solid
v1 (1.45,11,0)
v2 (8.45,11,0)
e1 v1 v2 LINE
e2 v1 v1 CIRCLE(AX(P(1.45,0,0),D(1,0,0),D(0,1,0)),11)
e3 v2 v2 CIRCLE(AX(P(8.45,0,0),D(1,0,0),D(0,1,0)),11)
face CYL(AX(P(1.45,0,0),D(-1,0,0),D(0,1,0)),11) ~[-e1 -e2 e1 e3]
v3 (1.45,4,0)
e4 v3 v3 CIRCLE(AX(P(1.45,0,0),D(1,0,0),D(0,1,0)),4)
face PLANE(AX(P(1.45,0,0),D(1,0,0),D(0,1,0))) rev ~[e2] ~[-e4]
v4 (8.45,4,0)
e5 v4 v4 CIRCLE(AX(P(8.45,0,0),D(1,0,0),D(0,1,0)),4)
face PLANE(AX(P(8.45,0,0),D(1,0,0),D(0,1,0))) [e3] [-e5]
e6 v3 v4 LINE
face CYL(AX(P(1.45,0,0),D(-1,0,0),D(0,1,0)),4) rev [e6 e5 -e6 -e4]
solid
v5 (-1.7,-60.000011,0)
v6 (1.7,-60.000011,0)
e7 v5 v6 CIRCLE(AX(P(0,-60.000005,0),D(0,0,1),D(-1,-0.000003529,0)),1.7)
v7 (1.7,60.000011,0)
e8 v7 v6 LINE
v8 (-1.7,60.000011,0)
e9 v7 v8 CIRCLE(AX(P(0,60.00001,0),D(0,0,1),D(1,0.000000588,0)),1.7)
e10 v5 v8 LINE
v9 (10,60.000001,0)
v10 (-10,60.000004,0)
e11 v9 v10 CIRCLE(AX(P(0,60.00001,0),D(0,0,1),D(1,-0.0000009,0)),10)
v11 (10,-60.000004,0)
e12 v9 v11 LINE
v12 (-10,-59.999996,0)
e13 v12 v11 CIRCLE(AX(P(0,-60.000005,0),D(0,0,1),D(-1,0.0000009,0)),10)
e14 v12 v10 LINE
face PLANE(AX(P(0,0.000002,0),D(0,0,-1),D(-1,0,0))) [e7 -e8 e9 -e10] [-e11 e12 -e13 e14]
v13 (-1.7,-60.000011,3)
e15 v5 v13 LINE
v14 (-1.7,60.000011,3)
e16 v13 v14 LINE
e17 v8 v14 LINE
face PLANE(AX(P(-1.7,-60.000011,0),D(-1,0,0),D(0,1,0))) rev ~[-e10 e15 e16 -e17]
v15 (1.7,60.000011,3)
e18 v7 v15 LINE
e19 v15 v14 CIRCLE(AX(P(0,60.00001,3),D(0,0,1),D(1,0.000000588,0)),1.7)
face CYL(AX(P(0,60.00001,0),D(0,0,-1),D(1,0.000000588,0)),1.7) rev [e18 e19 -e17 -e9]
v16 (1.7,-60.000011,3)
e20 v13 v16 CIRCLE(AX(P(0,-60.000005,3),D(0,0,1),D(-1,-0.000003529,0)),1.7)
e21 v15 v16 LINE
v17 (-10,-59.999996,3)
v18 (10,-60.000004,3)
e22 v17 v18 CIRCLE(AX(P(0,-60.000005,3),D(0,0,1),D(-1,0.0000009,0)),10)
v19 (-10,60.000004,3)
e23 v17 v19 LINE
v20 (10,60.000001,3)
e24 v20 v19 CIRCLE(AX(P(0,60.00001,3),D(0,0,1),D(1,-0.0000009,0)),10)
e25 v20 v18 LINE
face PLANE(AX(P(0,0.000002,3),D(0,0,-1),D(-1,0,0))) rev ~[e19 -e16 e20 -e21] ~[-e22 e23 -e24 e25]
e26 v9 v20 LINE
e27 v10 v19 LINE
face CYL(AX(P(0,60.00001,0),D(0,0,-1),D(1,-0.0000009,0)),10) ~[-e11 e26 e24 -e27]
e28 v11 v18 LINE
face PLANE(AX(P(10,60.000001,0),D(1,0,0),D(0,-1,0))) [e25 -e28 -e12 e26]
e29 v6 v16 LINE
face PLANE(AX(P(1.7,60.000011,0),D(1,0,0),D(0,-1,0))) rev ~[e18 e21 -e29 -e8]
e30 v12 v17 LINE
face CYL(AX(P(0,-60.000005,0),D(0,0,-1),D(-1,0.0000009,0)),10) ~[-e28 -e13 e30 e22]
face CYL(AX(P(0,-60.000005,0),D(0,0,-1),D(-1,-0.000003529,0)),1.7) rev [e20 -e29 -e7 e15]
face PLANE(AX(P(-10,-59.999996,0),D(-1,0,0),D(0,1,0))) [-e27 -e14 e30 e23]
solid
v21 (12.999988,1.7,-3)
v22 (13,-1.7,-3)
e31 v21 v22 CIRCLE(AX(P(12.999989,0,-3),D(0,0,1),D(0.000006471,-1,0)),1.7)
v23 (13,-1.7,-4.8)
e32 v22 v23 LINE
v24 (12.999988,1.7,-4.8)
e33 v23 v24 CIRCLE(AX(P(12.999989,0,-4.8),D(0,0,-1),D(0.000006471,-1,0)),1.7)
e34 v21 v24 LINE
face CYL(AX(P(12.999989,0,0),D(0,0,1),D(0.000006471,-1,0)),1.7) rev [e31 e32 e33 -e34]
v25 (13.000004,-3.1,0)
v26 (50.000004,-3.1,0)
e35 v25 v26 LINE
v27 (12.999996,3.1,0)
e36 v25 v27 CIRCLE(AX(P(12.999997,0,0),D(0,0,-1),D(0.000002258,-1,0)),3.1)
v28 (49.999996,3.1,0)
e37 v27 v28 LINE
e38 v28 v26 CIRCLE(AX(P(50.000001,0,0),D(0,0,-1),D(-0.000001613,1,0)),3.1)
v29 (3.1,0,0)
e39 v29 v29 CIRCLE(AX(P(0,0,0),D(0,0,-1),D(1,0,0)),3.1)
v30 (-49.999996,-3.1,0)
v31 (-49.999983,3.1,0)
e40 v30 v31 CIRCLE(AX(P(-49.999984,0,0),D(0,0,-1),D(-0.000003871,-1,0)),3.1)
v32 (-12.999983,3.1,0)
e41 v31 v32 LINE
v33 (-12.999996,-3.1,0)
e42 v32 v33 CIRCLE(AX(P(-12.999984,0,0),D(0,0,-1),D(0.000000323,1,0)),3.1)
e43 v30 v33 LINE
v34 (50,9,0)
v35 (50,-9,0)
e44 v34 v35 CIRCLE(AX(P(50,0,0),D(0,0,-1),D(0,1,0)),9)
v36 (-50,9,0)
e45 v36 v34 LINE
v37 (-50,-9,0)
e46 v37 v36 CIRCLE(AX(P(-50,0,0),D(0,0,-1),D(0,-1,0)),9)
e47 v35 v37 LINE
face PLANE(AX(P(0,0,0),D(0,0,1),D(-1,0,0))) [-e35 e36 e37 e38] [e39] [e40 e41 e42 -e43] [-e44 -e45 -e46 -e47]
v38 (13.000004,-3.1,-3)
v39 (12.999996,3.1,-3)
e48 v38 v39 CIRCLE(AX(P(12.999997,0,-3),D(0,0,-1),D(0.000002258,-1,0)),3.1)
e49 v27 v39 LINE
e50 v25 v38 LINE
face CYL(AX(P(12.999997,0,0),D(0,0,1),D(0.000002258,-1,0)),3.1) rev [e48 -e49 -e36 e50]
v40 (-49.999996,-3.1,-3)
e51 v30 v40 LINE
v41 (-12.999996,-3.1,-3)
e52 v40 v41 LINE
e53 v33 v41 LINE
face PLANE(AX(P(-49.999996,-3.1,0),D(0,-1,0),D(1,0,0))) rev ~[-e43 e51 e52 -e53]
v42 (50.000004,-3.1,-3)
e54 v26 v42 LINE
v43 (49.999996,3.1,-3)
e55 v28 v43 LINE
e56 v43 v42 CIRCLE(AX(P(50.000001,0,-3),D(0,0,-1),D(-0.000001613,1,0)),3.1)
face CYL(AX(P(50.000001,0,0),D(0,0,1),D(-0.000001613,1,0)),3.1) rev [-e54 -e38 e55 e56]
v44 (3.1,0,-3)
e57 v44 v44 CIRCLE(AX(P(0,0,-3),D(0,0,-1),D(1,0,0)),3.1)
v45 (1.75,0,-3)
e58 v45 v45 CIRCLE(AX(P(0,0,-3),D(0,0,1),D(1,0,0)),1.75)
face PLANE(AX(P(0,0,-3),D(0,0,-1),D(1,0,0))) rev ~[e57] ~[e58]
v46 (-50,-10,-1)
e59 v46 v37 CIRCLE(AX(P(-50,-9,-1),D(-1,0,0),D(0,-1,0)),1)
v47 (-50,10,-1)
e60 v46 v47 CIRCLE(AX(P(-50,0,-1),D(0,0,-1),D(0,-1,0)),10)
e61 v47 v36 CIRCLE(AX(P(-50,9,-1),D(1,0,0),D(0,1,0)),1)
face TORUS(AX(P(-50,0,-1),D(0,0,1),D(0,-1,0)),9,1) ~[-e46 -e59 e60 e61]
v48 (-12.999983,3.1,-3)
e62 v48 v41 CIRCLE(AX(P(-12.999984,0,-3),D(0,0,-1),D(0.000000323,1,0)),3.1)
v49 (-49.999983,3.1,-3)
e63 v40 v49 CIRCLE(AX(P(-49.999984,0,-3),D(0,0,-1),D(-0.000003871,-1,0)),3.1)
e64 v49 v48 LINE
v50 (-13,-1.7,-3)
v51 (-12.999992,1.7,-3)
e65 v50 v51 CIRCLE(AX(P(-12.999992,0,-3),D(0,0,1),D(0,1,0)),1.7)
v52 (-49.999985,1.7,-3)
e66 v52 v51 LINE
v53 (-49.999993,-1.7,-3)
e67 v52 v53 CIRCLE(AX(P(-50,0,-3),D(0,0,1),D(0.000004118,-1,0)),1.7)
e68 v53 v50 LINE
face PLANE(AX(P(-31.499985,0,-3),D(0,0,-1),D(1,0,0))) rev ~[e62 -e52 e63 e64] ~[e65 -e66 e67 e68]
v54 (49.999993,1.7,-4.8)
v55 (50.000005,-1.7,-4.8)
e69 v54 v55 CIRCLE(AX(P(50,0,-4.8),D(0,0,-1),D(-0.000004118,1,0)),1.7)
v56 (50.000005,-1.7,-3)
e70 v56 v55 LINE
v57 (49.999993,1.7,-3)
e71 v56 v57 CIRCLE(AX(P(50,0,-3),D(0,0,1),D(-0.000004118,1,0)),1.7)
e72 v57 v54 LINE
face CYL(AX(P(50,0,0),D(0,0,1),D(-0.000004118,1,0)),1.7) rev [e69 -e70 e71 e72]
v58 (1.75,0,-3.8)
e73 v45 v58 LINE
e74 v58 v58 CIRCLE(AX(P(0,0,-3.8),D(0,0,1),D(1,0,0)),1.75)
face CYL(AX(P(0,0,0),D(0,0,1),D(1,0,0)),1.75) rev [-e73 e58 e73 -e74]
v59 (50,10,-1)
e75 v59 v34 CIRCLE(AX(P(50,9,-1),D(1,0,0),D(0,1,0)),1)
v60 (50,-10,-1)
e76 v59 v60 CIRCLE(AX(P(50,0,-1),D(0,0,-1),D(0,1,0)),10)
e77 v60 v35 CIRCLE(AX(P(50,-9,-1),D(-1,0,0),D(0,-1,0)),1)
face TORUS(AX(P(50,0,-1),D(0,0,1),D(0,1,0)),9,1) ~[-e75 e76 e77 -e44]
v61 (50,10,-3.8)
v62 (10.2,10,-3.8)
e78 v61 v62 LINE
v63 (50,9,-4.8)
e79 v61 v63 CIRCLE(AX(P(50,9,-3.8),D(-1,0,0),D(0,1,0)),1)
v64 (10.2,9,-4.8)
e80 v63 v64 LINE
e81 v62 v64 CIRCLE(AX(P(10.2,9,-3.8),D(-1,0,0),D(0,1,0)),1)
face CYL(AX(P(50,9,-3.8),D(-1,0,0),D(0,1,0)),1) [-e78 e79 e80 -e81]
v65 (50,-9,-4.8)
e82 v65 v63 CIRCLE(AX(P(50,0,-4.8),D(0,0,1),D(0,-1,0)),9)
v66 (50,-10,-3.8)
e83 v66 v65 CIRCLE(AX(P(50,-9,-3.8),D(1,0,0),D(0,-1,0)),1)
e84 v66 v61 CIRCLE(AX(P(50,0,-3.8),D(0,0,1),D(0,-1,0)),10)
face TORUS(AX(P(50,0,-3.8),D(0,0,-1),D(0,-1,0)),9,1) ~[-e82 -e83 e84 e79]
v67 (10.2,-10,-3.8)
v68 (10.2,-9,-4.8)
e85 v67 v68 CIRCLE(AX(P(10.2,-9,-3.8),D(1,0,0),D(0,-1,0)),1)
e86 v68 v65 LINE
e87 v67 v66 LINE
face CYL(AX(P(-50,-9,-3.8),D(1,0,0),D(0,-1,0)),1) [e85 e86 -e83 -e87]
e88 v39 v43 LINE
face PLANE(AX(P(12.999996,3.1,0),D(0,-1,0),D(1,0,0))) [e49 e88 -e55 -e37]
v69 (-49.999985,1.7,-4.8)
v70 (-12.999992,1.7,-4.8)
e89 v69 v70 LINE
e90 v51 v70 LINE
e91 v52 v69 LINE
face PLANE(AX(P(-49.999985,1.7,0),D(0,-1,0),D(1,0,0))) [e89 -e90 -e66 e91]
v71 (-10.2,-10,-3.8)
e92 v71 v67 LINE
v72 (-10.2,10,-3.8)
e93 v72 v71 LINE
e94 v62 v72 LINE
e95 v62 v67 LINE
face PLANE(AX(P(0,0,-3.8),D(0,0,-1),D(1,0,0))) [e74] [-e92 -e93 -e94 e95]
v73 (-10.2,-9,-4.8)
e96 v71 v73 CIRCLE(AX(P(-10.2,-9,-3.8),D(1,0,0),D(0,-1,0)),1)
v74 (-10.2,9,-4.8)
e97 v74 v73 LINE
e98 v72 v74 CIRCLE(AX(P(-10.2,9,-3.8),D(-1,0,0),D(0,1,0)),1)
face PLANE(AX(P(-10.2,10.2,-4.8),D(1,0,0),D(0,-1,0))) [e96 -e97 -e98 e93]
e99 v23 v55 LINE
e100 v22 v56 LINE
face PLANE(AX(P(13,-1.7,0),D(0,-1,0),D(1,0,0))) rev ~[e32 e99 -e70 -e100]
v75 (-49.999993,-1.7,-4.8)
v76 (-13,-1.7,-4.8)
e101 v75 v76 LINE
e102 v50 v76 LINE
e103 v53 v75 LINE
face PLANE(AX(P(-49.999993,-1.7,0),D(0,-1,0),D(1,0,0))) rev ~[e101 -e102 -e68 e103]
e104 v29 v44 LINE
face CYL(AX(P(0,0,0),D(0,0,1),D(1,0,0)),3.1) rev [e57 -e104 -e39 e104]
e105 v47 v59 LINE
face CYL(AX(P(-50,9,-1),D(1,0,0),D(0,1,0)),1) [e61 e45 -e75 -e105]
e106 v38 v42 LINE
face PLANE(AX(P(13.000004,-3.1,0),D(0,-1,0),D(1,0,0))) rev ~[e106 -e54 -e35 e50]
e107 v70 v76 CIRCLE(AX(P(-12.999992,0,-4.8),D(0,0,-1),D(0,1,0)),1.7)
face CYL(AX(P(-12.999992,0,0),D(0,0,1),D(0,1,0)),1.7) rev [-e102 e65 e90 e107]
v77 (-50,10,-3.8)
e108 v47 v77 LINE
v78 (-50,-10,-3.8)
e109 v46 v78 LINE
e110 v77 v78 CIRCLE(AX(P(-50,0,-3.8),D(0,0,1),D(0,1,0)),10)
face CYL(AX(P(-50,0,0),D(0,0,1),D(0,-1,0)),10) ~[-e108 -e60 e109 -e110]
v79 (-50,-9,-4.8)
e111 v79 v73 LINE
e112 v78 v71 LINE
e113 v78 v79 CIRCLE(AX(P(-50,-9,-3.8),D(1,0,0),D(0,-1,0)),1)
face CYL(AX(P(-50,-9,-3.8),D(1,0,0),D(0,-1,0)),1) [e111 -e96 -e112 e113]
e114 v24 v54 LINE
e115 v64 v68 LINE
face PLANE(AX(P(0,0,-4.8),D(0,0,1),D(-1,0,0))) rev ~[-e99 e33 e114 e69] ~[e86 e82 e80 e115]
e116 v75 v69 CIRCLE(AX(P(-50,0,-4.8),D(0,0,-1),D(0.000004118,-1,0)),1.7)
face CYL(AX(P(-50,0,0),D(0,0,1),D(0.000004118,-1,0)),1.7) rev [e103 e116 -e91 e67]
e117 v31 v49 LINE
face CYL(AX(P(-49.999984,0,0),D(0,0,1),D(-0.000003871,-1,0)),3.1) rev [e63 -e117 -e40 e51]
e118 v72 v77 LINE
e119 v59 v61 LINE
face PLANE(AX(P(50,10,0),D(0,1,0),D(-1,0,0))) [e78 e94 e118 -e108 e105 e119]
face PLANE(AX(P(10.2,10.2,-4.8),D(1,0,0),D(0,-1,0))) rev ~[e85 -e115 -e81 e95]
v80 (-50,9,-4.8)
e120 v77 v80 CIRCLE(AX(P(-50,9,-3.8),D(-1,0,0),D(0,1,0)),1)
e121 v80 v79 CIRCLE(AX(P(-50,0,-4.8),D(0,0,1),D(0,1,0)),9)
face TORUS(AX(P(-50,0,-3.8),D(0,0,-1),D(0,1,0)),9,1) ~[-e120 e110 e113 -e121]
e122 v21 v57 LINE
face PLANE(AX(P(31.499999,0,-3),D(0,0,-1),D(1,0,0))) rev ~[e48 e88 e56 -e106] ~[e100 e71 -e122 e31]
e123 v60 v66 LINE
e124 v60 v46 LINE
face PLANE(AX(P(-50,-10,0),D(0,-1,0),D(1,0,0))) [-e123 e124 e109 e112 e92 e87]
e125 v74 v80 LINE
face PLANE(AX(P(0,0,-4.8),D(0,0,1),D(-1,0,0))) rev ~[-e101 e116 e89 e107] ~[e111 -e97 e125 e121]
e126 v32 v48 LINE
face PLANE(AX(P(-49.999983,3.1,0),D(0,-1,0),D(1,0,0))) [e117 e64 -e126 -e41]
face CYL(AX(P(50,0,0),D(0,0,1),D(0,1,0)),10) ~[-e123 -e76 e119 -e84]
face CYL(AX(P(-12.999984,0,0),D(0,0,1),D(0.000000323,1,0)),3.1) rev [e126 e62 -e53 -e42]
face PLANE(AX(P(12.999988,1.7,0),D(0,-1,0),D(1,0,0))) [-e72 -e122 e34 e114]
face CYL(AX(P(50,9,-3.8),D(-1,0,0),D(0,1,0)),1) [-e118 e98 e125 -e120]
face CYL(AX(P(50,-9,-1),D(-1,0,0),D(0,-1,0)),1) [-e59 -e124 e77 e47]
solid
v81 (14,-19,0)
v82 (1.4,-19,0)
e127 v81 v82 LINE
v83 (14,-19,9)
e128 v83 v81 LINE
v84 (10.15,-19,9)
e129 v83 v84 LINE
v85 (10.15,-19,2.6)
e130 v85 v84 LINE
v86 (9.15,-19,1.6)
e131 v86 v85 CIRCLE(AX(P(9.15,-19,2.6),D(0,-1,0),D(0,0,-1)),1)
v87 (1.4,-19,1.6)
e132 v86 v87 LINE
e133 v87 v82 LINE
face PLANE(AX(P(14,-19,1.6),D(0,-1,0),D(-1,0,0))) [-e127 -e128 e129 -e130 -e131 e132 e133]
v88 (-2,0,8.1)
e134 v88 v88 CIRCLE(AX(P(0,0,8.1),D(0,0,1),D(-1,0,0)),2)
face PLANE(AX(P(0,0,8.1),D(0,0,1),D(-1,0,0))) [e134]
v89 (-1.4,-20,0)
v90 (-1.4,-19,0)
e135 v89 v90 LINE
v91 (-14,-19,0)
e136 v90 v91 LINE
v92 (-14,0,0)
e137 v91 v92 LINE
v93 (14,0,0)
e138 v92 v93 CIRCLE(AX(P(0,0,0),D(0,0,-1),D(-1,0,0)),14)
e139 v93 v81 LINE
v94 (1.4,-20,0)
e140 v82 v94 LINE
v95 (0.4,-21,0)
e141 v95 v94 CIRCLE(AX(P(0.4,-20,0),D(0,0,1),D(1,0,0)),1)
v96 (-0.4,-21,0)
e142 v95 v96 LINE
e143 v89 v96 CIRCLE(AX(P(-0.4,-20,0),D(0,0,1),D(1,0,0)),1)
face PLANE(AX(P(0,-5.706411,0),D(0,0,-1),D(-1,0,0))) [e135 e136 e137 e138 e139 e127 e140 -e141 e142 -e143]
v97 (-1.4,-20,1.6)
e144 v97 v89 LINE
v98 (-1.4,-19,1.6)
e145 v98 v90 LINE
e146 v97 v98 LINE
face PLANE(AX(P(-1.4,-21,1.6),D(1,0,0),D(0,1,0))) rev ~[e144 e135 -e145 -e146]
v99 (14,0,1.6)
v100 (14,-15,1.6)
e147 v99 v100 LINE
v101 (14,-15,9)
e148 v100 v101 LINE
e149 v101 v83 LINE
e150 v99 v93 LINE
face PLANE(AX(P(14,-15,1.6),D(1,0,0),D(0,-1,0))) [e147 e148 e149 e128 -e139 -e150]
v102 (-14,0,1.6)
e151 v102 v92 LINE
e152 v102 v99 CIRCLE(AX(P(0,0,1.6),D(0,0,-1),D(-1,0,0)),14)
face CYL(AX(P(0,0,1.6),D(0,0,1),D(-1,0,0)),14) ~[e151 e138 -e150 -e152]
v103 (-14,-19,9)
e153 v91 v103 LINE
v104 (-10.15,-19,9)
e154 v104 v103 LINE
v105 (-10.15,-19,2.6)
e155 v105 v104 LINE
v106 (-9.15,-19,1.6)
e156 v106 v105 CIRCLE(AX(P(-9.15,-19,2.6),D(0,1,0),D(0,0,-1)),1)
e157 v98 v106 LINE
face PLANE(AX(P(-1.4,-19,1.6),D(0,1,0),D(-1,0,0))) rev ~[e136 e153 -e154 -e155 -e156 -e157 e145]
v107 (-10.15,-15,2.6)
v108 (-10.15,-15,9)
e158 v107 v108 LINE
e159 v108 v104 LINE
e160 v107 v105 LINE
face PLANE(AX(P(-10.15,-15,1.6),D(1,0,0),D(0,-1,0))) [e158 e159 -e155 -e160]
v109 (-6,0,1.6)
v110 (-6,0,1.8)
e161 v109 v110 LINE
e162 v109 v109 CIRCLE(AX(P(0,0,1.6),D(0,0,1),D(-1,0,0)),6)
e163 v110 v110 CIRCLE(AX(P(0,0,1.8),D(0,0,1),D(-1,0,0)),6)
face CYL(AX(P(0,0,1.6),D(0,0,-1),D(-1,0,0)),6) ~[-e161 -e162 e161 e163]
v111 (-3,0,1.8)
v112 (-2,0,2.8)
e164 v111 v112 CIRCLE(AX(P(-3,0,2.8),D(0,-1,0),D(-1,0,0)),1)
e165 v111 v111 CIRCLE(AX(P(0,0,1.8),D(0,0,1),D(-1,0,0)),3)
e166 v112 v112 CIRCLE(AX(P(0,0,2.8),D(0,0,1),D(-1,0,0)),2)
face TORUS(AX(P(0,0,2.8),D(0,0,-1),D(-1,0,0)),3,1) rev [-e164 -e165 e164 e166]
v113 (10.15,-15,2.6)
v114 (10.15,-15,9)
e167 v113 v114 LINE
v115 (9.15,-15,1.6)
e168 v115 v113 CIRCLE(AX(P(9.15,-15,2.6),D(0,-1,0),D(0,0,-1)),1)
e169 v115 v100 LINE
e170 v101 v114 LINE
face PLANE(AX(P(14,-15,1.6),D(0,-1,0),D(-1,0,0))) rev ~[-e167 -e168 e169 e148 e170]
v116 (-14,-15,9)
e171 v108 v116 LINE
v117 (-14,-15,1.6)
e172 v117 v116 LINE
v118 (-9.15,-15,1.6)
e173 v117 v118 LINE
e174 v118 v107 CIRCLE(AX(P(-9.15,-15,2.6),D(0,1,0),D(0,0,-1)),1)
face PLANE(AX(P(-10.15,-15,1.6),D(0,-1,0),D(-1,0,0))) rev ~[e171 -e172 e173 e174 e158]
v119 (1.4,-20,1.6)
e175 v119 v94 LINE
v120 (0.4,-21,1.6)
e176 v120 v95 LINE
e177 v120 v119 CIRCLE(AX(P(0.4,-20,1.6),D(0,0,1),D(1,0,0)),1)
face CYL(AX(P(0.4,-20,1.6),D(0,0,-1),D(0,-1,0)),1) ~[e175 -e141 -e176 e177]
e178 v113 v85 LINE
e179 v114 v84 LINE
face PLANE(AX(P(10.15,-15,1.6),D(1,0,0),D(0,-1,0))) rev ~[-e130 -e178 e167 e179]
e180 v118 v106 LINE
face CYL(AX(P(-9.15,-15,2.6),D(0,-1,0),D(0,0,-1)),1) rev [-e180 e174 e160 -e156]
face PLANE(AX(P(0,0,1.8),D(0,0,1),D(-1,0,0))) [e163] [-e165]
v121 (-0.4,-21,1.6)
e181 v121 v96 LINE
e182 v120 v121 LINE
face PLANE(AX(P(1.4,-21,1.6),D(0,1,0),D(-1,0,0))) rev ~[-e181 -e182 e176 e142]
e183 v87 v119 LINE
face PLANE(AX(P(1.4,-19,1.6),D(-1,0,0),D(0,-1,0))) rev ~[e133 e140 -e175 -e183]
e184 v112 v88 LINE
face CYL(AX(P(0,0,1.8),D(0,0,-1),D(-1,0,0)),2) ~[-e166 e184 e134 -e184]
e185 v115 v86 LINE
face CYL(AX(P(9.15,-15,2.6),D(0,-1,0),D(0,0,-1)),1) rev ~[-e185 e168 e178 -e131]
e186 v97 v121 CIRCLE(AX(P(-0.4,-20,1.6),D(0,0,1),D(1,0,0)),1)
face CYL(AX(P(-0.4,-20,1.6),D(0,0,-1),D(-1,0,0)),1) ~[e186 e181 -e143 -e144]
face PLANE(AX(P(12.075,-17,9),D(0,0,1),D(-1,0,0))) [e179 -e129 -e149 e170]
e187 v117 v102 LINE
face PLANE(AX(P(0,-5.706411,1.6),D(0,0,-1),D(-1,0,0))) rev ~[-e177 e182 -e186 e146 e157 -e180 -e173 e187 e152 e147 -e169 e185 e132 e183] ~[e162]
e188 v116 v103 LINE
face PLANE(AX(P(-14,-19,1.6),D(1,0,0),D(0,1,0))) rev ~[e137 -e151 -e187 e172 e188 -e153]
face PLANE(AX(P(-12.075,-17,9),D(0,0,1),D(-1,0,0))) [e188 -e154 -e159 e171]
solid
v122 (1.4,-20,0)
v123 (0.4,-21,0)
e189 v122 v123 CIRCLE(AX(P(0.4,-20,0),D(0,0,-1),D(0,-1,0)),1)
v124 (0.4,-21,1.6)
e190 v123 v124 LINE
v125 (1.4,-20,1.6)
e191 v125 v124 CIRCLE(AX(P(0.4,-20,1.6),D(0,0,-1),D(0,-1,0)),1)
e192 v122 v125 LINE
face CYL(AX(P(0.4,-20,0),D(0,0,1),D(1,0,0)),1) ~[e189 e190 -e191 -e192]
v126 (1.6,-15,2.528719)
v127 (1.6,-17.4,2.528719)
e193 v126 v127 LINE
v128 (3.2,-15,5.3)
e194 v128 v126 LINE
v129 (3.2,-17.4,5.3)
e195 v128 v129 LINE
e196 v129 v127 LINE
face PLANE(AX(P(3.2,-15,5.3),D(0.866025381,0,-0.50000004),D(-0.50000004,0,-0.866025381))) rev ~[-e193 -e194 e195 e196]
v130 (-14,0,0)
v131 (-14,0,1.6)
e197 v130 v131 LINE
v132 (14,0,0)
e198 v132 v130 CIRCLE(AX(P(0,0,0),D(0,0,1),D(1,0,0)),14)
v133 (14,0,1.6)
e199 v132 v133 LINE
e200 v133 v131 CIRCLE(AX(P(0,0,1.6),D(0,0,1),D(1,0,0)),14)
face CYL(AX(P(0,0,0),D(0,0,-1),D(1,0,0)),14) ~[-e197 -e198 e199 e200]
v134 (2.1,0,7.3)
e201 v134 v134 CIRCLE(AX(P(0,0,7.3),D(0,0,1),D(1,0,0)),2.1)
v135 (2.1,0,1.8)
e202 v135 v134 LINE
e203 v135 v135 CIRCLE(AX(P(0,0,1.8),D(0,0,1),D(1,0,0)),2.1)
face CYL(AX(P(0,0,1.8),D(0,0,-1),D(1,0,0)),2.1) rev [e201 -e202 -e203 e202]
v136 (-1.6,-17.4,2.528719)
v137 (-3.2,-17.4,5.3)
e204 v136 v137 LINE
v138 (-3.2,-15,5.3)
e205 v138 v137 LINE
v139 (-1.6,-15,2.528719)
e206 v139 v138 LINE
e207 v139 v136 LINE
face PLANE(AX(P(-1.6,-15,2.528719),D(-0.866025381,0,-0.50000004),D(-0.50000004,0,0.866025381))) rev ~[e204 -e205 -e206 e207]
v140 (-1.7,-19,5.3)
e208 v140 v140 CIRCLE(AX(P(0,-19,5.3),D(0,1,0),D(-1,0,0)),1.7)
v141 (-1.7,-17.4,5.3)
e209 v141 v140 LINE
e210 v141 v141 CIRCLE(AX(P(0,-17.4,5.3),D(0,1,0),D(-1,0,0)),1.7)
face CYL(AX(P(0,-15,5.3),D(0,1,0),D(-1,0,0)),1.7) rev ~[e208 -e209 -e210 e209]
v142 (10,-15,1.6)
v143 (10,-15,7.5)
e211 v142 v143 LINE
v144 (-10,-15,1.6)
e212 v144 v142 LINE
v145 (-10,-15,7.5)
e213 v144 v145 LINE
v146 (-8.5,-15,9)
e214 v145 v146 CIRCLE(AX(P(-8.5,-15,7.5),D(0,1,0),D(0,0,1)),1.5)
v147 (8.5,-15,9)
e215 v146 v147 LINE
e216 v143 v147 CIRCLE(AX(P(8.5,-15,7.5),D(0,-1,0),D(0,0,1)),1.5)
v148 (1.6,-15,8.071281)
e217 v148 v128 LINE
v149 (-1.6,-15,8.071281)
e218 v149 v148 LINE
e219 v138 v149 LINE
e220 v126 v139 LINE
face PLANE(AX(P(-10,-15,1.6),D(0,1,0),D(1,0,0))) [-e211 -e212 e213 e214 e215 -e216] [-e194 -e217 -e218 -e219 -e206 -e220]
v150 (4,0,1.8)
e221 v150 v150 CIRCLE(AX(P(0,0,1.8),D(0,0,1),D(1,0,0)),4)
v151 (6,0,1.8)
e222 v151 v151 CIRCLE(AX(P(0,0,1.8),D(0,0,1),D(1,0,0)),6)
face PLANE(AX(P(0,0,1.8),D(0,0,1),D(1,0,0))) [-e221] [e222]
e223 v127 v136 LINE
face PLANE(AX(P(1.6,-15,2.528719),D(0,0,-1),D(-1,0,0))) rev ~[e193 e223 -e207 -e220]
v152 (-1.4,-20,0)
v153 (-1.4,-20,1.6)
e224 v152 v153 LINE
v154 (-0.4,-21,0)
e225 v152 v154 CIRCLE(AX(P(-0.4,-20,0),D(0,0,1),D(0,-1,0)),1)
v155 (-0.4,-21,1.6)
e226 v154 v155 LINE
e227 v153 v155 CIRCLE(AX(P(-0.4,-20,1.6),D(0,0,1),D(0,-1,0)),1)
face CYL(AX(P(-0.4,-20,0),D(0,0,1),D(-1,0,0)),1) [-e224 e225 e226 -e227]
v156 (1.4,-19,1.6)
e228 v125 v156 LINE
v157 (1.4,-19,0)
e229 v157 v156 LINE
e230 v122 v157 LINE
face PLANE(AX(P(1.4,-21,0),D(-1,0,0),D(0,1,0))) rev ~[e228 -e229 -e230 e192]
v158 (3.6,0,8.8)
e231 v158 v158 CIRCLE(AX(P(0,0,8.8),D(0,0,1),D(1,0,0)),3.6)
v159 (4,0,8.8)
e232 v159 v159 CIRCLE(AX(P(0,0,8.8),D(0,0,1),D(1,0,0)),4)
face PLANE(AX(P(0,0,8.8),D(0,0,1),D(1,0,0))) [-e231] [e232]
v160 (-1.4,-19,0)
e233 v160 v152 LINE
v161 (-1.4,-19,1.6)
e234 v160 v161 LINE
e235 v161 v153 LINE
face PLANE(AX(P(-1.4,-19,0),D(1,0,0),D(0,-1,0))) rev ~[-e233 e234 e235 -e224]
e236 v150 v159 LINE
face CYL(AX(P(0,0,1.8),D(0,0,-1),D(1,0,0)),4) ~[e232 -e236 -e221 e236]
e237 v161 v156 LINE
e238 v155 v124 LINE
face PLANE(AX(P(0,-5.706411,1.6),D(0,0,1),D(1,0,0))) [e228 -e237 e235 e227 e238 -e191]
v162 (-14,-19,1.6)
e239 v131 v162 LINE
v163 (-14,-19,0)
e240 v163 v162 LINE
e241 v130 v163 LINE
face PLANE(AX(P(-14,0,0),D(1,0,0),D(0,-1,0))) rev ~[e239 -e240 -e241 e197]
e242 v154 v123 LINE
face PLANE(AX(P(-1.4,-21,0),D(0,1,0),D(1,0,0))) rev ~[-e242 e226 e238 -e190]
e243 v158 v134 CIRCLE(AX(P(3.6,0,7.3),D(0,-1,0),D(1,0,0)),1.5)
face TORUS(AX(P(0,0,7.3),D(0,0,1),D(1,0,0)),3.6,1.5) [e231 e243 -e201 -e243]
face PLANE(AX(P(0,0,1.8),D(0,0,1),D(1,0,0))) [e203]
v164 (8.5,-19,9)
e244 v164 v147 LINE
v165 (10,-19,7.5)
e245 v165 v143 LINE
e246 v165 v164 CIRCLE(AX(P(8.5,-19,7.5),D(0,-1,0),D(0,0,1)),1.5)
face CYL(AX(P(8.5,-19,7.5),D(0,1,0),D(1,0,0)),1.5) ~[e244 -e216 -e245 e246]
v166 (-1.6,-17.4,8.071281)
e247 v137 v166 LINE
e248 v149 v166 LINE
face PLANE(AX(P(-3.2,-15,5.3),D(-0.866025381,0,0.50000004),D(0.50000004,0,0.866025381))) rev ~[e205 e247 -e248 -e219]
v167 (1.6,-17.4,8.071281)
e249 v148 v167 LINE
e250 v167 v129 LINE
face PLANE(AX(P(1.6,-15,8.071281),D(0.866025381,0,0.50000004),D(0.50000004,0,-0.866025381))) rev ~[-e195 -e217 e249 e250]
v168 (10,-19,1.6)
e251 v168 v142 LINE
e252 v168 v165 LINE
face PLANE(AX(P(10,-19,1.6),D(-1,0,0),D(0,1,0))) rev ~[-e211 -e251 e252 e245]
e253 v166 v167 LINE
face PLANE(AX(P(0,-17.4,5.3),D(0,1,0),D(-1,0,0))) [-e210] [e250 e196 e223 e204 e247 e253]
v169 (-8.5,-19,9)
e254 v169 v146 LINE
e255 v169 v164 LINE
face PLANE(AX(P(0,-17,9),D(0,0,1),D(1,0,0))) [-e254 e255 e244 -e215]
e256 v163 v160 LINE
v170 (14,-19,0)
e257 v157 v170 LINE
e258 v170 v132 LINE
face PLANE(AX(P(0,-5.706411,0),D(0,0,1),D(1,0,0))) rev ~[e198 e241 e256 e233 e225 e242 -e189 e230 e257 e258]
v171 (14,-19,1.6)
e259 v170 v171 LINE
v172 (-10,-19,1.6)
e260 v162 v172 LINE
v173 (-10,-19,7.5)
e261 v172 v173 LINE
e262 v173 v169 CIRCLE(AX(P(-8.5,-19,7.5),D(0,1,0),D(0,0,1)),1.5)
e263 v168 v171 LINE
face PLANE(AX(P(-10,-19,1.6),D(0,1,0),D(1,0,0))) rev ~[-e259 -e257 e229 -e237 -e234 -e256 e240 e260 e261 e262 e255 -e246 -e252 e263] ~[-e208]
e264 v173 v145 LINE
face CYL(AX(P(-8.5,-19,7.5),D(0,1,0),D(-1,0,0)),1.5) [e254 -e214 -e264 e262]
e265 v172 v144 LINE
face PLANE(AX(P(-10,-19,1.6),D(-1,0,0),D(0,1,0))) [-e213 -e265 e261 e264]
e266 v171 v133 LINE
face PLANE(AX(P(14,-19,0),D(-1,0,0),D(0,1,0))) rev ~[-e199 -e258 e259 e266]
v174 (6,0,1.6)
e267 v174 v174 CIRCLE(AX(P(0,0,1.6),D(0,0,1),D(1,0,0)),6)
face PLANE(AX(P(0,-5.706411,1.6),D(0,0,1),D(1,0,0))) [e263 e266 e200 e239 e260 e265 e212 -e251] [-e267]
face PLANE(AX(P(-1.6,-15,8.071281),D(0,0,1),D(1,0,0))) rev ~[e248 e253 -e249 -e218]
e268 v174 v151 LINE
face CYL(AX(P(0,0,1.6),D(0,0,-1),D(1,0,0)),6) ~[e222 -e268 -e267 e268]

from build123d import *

# Parameters (mm, degrees)
SKETCH002_R           = 11
SKETCH002_R_2         = 4
PAD002_DEPTH          = 7
PAD006_DEPTH          = 3
PAD003_DEPTH          = 1.6
SKETCH010_R           = 6
PAD008_DEPTH          = 0.2
SKETCH004_R           = 4
SKETCH004_R_2         = 2.1
PAD009_DEPTH          = 7
SKETCH011_W           = 20
SKETCH011_H           = 4
PAD010_DEPTH          = 7.4
SKETCH006_R           = 1.7
POCKET_DEPTH          = 4
POCKET001_DEPTH       = 2.4
FILLET001_R           = 1.5
FILLET002_R           = 1.5
FILLET003_R           = 1
CLONE_PLACEMENT_ANGLE = 180
SKETCH012_R           = 6
PAD011_DEPTH          = 0.2
SKETCH007_R           = 2
PAD012_DEPTH          = 6.3
SKETCH009_W           = 3.85
SKETCH009_H           = 4
PAD013_DEPTH          = 7.4
FILLET004_R           = 1
FILLET005_R           = 1
FILLET006_R           = 1
SKETCH001_R           = 3.1
PAD001_DEPTH          = 3
SKETCH_R              = 1.75
PAD_DEPTH             = 4.8
FILLET_R              = 1
CUT_PLACEMENT_ANGLE   = 180
SKETCH013_W           = 20.4
SKETCH013_H           = 20.4
POCKET002_DEPTH       = 1


with BuildPart() as f_608zz:
    # Sketch002 → Pad002 (new body)
    with BuildSketch(Plane.YZ.offset(1.45)):
        Circle(SKETCH002_R)
        Circle(SKETCH002_R_2, mode=Mode.SUBTRACT)
    extrude(amount=PAD002_DEPTH)


with BuildPart() as bridge:
    # Sketch008 → Pad006 (new body)
    with BuildSketch(Plane.XY):
        with BuildLine():
            Line((10, 60.000001), (10, -60.000004))
            ThreePointArc((-10, -59.999996), (-4e-06, -70.000005), (10, -60.000004))
            Line((-10, -59.999996), (-10, 60.000004))
            ThreePointArc((10, 60.000001), (1e-06, 70.00001), (-10, 60.000004))
        make_face()
        with BuildLine():
            Line((1.7, 60.000011), (1.7, -60.000011))
            ThreePointArc((-1.7, -60.000011), (0, -61.700005), (1.7, -60.000011))
            Line((-1.7, -60.000011), (-1.7, 60.000011))
            ThreePointArc((1.7, 60.000011), (0, 61.70001), (-1.7, 60.000011))
        make_face(mode=Mode.SUBTRACT)
    extrude(amount=PAD006_DEPTH)


with BuildPart() as bearingholderside:
    # Sketch003 → Pad003 (new body)
    with BuildSketch(Plane.XY):
        with BuildLine():
            Line((-14, 0), (-14, -19))
            Line((-14, -19), (-1.4, -19))
            Line((-1.4, -19), (-1.4, -21))
            Line((-1.4, -21), (1.4, -21))
            Line((1.4, -21), (1.4, -19))
            Line((1.4, -19), (14, -19))
            Line((14, -19), (14, 0))
            ThreePointArc((14, 0), (0, 14), (-14, 0))
        make_face()
    extrude(amount=PAD003_DEPTH)


with BuildPart() as bearing_a_final:
    # Pad008 base: copy of _BearingHolderSide
    add(bearingholderside.part)

    # Sketch010 (on Face10 of Pad003) → Pad008 (new body)
    with BuildSketch(Plane.XY.offset(1.6)):
        Circle(SKETCH010_R)
    extrude(amount=PAD008_DEPTH)

    # Sketch004 (on Face12 of Pad008) → Pad009 (new body)
    with BuildSketch(Plane.XY.offset(1.8)):
        Circle(SKETCH004_R)
        Circle(SKETCH004_R_2, mode=Mode.SUBTRACT)
    extrude(amount=PAD009_DEPTH)

    # Sketch011 (on Face5 of Pad009) → Pad010 (new body)
    with BuildSketch(Plane.XY.offset(1.6)):
        with Locations((0, -17)):
            Rectangle(SKETCH011_W, SKETCH011_H)
    extrude(amount=PAD010_DEPTH)

    # Sketch006 (on Face13 of Pad010) → Pocket (cut)
    with BuildSketch(Plane(origin=(0, -15, 0), x_dir=(-1, 0, 0), z_dir=(0, 1, 0))):
        with Locations((0, 5.3)):
            Circle(SKETCH006_R)
    extrude(amount=-POCKET_DEPTH, mode=Mode.SUBTRACT)

    # Sketch005 (on Face13 of Pocket) → Pocket001 (cut)
    with BuildSketch(Plane(origin=(0, -15, 0), x_dir=(-1, 0, 0), z_dir=(0, 1, 0))):
        Polygon((1.6, 2.528719), (3.2, 5.3), (1.6, 8.071281), (-1.6, 8.071281), (-3.2, 5.3), (-1.6, 2.528719), align=None)
    extrude(amount=-POCKET001_DEPTH, mode=Mode.SUBTRACT)

    # Fillet001
    fillet001_edges = [bearing_a_final.edges().sort_by_distance(p)[0] for p in [
        (-2.1, 0, 8.8),
    ]]
    fillet(fillet001_edges, radius=FILLET001_R)

    # Fillet002
    fillet002_edges = [bearing_a_final.edges().sort_by_distance(p)[0] for p in [
        (10, -17, 9),
        (-10, -17, 9),
    ]]
    fillet(fillet002_edges, radius=FILLET002_R)

    # Fillet003
    fillet003_edges = [bearing_a_final.edges().sort_by_distance(p)[0] for p in [
        (1.4, -21, 0.8),
        (-1.4, -21, 0.8),
    ]]
    fillet(fillet003_edges, radius=FILLET003_R)


with BuildPart() as bearing_b_final:
    # Clone base: copy of _BearingHolderSide
    add(bearingholderside.part)


with BuildPart() as bearing_b_final_1:
    # Clone placement: moved
    add(bearing_b_final.part.moved(Location((0, 0, 1.6))).rotate(Axis((0, 0, 1.6), (0, 1, 0)), CLONE_PLACEMENT_ANGLE))

    # Sketch012 (on Face9 of Clone) → Pad011 (new body)
    with BuildSketch(Plane(origin=(0, 0, 1.6), x_dir=(-1, 0, 0), z_dir=(0, 0, 1))):
        Circle(SKETCH012_R)
    extrude(amount=PAD011_DEPTH)

    # Sketch007 (on Face12 of Pad011) → Pad012 (new body)
    with BuildSketch(Plane(origin=(0, 0, 1.8), x_dir=(-1, 0, 0), z_dir=(0, 0, 1))):
        Circle(SKETCH007_R)
    extrude(amount=PAD012_DEPTH)

    # Sketch009 (on Face4 of Pad012) → Pad013 (new body)
    with BuildSketch(Plane(origin=(0, 0, 1.6), x_dir=(-1, 0, 0), z_dir=(0, 0, 1))):
        with Locations((-12.075, 17)):
            Rectangle(SKETCH009_W, SKETCH009_H)
        with Locations((12.075, 17)):
            Rectangle(SKETCH009_W, SKETCH009_H)
    extrude(amount=PAD013_DEPTH)

    # Fillet004
    fillet004_edges = [bearing_b_final_1.edges().sort_by_distance(p)[0] for p in [
        (2, 0, 1.8),
    ]]
    fillet(fillet004_edges, radius=FILLET004_R)

    # Fillet005
    fillet005_edges = [bearing_b_final_1.edges().sort_by_distance(p)[0] for p in [
        (10.15, -17, 1.6),
        (-10.15, -17, 1.6),
    ]]
    fillet(fillet005_edges, radius=FILLET005_R)

    # Fillet006
    fillet006_edges = [bearing_b_final_1.edges().sort_by_distance(p)[0] for p in [
        (1.4, -21, 0.8),
        (-1.4, -21, 0.8),
    ]]
    fillet(fillet006_edges, radius=FILLET006_R)


with BuildPart() as standscrewheadgroove:
    # Sketch001 → Pad001 (new body)
    with BuildSketch(Plane.XY):
        Circle(SKETCH001_R)
        with BuildLine():
            ThreePointArc((-49.999996, 3.1), (-53.099984, -7e-06), (-49.999983, -3.1))
            Line((-49.999983, -3.1), (-12.999983, -3.1))
            ThreePointArc((-12.999983, -3.1), (-9.899984, 7e-06), (-12.999996, 3.1))
            Line((-49.999996, 3.1), (-12.999996, 3.1))
        make_face()
        with BuildLine():
            ThreePointArc((49.999996, -3.1), (53.100001, -4e-06), (50.000004, 3.1))
            Line((13.000004, 3.1), (50.000004, 3.1))
            ThreePointArc((13.000004, 3.1), (9.899997, 4e-06), (12.999996, -3.1))
            Line((12.999996, -3.1), (49.999996, -3.1))
        make_face()
    extrude(amount=PAD001_DEPTH)


with BuildPart() as pocket002:
    # Sketch → Pad (new body)
    with BuildSketch(Plane.XY):
        with BuildLine():
            Line((-50, 10), (50, 10))
            ThreePointArc((50, -10), (60, 0), (50, 10))
            Line((50, -10), (-50, -10))
            ThreePointArc((-50, 10), (-60, 0), (-50, -10))
        make_face()
        Circle(SKETCH_R, mode=Mode.SUBTRACT)
        with BuildLine():
            ThreePointArc((-49.999993, 1.7), (-51.7, -4e-06), (-49.999985, -1.7))
            Line((-49.999985, -1.7), (-12.999992, -1.7))
            ThreePointArc((-12.999992, -1.7), (-11.299992, 4e-06), (-13, 1.7))
            Line((-49.999993, 1.7), (-13, 1.7))
        make_face(mode=Mode.SUBTRACT)
        with BuildLine():
            ThreePointArc((49.999993, -1.7), (51.7, -6e-06), (50.000005, 1.7))
            Line((13, 1.7), (50.000005, 1.7))
            ThreePointArc((13, 1.7), (11.299989, 6e-06), (12.999988, -1.7))
            Line((12.999988, -1.7), (49.999993, -1.7))
        make_face(mode=Mode.SUBTRACT)
    extrude(amount=PAD_DEPTH)

    # Fillet
    fillet_edges = [pocket002.edges().sort_by_distance(p)[0] for p in [
        (0, 10, 4.8),
        (60, 0, 4.8),
        (0, -10, 4.8),
        (-60, 0, 4.8),
        (-60, 0, 0),
        (0, 10, 0),
        (60, 0, 0),
        (0, -10, 0),
    ]]
    fillet(fillet_edges, radius=FILLET_R)

    # Cut: cut _StandScrewHeadGroove
    add(standscrewheadgroove.part, mode=Mode.SUBTRACT)


with BuildPart() as pocket002_1:
    # Cut placement: moved
    add(pocket002.part.rotate(Axis((0, 0, 0), (1, 0, 0)), CUT_PLACEMENT_ANGLE))

    # Sketch013 (on Face11 of Cut) → Pocket002 (cut)
    with BuildSketch(Plane(origin=(0, 0, -4.8), x_dir=(1, 0, 0), z_dir=(0, 0, -1))):
        Rectangle(SKETCH013_W, SKETCH013_H)
    extrude(amount=-POCKET002_DEPTH, mode=Mode.SUBTRACT)


solid = Compound([f_608zz.part, bridge.part, bearing_a_final.part, bearing_b_final_1.part, pocket002_1.part])
